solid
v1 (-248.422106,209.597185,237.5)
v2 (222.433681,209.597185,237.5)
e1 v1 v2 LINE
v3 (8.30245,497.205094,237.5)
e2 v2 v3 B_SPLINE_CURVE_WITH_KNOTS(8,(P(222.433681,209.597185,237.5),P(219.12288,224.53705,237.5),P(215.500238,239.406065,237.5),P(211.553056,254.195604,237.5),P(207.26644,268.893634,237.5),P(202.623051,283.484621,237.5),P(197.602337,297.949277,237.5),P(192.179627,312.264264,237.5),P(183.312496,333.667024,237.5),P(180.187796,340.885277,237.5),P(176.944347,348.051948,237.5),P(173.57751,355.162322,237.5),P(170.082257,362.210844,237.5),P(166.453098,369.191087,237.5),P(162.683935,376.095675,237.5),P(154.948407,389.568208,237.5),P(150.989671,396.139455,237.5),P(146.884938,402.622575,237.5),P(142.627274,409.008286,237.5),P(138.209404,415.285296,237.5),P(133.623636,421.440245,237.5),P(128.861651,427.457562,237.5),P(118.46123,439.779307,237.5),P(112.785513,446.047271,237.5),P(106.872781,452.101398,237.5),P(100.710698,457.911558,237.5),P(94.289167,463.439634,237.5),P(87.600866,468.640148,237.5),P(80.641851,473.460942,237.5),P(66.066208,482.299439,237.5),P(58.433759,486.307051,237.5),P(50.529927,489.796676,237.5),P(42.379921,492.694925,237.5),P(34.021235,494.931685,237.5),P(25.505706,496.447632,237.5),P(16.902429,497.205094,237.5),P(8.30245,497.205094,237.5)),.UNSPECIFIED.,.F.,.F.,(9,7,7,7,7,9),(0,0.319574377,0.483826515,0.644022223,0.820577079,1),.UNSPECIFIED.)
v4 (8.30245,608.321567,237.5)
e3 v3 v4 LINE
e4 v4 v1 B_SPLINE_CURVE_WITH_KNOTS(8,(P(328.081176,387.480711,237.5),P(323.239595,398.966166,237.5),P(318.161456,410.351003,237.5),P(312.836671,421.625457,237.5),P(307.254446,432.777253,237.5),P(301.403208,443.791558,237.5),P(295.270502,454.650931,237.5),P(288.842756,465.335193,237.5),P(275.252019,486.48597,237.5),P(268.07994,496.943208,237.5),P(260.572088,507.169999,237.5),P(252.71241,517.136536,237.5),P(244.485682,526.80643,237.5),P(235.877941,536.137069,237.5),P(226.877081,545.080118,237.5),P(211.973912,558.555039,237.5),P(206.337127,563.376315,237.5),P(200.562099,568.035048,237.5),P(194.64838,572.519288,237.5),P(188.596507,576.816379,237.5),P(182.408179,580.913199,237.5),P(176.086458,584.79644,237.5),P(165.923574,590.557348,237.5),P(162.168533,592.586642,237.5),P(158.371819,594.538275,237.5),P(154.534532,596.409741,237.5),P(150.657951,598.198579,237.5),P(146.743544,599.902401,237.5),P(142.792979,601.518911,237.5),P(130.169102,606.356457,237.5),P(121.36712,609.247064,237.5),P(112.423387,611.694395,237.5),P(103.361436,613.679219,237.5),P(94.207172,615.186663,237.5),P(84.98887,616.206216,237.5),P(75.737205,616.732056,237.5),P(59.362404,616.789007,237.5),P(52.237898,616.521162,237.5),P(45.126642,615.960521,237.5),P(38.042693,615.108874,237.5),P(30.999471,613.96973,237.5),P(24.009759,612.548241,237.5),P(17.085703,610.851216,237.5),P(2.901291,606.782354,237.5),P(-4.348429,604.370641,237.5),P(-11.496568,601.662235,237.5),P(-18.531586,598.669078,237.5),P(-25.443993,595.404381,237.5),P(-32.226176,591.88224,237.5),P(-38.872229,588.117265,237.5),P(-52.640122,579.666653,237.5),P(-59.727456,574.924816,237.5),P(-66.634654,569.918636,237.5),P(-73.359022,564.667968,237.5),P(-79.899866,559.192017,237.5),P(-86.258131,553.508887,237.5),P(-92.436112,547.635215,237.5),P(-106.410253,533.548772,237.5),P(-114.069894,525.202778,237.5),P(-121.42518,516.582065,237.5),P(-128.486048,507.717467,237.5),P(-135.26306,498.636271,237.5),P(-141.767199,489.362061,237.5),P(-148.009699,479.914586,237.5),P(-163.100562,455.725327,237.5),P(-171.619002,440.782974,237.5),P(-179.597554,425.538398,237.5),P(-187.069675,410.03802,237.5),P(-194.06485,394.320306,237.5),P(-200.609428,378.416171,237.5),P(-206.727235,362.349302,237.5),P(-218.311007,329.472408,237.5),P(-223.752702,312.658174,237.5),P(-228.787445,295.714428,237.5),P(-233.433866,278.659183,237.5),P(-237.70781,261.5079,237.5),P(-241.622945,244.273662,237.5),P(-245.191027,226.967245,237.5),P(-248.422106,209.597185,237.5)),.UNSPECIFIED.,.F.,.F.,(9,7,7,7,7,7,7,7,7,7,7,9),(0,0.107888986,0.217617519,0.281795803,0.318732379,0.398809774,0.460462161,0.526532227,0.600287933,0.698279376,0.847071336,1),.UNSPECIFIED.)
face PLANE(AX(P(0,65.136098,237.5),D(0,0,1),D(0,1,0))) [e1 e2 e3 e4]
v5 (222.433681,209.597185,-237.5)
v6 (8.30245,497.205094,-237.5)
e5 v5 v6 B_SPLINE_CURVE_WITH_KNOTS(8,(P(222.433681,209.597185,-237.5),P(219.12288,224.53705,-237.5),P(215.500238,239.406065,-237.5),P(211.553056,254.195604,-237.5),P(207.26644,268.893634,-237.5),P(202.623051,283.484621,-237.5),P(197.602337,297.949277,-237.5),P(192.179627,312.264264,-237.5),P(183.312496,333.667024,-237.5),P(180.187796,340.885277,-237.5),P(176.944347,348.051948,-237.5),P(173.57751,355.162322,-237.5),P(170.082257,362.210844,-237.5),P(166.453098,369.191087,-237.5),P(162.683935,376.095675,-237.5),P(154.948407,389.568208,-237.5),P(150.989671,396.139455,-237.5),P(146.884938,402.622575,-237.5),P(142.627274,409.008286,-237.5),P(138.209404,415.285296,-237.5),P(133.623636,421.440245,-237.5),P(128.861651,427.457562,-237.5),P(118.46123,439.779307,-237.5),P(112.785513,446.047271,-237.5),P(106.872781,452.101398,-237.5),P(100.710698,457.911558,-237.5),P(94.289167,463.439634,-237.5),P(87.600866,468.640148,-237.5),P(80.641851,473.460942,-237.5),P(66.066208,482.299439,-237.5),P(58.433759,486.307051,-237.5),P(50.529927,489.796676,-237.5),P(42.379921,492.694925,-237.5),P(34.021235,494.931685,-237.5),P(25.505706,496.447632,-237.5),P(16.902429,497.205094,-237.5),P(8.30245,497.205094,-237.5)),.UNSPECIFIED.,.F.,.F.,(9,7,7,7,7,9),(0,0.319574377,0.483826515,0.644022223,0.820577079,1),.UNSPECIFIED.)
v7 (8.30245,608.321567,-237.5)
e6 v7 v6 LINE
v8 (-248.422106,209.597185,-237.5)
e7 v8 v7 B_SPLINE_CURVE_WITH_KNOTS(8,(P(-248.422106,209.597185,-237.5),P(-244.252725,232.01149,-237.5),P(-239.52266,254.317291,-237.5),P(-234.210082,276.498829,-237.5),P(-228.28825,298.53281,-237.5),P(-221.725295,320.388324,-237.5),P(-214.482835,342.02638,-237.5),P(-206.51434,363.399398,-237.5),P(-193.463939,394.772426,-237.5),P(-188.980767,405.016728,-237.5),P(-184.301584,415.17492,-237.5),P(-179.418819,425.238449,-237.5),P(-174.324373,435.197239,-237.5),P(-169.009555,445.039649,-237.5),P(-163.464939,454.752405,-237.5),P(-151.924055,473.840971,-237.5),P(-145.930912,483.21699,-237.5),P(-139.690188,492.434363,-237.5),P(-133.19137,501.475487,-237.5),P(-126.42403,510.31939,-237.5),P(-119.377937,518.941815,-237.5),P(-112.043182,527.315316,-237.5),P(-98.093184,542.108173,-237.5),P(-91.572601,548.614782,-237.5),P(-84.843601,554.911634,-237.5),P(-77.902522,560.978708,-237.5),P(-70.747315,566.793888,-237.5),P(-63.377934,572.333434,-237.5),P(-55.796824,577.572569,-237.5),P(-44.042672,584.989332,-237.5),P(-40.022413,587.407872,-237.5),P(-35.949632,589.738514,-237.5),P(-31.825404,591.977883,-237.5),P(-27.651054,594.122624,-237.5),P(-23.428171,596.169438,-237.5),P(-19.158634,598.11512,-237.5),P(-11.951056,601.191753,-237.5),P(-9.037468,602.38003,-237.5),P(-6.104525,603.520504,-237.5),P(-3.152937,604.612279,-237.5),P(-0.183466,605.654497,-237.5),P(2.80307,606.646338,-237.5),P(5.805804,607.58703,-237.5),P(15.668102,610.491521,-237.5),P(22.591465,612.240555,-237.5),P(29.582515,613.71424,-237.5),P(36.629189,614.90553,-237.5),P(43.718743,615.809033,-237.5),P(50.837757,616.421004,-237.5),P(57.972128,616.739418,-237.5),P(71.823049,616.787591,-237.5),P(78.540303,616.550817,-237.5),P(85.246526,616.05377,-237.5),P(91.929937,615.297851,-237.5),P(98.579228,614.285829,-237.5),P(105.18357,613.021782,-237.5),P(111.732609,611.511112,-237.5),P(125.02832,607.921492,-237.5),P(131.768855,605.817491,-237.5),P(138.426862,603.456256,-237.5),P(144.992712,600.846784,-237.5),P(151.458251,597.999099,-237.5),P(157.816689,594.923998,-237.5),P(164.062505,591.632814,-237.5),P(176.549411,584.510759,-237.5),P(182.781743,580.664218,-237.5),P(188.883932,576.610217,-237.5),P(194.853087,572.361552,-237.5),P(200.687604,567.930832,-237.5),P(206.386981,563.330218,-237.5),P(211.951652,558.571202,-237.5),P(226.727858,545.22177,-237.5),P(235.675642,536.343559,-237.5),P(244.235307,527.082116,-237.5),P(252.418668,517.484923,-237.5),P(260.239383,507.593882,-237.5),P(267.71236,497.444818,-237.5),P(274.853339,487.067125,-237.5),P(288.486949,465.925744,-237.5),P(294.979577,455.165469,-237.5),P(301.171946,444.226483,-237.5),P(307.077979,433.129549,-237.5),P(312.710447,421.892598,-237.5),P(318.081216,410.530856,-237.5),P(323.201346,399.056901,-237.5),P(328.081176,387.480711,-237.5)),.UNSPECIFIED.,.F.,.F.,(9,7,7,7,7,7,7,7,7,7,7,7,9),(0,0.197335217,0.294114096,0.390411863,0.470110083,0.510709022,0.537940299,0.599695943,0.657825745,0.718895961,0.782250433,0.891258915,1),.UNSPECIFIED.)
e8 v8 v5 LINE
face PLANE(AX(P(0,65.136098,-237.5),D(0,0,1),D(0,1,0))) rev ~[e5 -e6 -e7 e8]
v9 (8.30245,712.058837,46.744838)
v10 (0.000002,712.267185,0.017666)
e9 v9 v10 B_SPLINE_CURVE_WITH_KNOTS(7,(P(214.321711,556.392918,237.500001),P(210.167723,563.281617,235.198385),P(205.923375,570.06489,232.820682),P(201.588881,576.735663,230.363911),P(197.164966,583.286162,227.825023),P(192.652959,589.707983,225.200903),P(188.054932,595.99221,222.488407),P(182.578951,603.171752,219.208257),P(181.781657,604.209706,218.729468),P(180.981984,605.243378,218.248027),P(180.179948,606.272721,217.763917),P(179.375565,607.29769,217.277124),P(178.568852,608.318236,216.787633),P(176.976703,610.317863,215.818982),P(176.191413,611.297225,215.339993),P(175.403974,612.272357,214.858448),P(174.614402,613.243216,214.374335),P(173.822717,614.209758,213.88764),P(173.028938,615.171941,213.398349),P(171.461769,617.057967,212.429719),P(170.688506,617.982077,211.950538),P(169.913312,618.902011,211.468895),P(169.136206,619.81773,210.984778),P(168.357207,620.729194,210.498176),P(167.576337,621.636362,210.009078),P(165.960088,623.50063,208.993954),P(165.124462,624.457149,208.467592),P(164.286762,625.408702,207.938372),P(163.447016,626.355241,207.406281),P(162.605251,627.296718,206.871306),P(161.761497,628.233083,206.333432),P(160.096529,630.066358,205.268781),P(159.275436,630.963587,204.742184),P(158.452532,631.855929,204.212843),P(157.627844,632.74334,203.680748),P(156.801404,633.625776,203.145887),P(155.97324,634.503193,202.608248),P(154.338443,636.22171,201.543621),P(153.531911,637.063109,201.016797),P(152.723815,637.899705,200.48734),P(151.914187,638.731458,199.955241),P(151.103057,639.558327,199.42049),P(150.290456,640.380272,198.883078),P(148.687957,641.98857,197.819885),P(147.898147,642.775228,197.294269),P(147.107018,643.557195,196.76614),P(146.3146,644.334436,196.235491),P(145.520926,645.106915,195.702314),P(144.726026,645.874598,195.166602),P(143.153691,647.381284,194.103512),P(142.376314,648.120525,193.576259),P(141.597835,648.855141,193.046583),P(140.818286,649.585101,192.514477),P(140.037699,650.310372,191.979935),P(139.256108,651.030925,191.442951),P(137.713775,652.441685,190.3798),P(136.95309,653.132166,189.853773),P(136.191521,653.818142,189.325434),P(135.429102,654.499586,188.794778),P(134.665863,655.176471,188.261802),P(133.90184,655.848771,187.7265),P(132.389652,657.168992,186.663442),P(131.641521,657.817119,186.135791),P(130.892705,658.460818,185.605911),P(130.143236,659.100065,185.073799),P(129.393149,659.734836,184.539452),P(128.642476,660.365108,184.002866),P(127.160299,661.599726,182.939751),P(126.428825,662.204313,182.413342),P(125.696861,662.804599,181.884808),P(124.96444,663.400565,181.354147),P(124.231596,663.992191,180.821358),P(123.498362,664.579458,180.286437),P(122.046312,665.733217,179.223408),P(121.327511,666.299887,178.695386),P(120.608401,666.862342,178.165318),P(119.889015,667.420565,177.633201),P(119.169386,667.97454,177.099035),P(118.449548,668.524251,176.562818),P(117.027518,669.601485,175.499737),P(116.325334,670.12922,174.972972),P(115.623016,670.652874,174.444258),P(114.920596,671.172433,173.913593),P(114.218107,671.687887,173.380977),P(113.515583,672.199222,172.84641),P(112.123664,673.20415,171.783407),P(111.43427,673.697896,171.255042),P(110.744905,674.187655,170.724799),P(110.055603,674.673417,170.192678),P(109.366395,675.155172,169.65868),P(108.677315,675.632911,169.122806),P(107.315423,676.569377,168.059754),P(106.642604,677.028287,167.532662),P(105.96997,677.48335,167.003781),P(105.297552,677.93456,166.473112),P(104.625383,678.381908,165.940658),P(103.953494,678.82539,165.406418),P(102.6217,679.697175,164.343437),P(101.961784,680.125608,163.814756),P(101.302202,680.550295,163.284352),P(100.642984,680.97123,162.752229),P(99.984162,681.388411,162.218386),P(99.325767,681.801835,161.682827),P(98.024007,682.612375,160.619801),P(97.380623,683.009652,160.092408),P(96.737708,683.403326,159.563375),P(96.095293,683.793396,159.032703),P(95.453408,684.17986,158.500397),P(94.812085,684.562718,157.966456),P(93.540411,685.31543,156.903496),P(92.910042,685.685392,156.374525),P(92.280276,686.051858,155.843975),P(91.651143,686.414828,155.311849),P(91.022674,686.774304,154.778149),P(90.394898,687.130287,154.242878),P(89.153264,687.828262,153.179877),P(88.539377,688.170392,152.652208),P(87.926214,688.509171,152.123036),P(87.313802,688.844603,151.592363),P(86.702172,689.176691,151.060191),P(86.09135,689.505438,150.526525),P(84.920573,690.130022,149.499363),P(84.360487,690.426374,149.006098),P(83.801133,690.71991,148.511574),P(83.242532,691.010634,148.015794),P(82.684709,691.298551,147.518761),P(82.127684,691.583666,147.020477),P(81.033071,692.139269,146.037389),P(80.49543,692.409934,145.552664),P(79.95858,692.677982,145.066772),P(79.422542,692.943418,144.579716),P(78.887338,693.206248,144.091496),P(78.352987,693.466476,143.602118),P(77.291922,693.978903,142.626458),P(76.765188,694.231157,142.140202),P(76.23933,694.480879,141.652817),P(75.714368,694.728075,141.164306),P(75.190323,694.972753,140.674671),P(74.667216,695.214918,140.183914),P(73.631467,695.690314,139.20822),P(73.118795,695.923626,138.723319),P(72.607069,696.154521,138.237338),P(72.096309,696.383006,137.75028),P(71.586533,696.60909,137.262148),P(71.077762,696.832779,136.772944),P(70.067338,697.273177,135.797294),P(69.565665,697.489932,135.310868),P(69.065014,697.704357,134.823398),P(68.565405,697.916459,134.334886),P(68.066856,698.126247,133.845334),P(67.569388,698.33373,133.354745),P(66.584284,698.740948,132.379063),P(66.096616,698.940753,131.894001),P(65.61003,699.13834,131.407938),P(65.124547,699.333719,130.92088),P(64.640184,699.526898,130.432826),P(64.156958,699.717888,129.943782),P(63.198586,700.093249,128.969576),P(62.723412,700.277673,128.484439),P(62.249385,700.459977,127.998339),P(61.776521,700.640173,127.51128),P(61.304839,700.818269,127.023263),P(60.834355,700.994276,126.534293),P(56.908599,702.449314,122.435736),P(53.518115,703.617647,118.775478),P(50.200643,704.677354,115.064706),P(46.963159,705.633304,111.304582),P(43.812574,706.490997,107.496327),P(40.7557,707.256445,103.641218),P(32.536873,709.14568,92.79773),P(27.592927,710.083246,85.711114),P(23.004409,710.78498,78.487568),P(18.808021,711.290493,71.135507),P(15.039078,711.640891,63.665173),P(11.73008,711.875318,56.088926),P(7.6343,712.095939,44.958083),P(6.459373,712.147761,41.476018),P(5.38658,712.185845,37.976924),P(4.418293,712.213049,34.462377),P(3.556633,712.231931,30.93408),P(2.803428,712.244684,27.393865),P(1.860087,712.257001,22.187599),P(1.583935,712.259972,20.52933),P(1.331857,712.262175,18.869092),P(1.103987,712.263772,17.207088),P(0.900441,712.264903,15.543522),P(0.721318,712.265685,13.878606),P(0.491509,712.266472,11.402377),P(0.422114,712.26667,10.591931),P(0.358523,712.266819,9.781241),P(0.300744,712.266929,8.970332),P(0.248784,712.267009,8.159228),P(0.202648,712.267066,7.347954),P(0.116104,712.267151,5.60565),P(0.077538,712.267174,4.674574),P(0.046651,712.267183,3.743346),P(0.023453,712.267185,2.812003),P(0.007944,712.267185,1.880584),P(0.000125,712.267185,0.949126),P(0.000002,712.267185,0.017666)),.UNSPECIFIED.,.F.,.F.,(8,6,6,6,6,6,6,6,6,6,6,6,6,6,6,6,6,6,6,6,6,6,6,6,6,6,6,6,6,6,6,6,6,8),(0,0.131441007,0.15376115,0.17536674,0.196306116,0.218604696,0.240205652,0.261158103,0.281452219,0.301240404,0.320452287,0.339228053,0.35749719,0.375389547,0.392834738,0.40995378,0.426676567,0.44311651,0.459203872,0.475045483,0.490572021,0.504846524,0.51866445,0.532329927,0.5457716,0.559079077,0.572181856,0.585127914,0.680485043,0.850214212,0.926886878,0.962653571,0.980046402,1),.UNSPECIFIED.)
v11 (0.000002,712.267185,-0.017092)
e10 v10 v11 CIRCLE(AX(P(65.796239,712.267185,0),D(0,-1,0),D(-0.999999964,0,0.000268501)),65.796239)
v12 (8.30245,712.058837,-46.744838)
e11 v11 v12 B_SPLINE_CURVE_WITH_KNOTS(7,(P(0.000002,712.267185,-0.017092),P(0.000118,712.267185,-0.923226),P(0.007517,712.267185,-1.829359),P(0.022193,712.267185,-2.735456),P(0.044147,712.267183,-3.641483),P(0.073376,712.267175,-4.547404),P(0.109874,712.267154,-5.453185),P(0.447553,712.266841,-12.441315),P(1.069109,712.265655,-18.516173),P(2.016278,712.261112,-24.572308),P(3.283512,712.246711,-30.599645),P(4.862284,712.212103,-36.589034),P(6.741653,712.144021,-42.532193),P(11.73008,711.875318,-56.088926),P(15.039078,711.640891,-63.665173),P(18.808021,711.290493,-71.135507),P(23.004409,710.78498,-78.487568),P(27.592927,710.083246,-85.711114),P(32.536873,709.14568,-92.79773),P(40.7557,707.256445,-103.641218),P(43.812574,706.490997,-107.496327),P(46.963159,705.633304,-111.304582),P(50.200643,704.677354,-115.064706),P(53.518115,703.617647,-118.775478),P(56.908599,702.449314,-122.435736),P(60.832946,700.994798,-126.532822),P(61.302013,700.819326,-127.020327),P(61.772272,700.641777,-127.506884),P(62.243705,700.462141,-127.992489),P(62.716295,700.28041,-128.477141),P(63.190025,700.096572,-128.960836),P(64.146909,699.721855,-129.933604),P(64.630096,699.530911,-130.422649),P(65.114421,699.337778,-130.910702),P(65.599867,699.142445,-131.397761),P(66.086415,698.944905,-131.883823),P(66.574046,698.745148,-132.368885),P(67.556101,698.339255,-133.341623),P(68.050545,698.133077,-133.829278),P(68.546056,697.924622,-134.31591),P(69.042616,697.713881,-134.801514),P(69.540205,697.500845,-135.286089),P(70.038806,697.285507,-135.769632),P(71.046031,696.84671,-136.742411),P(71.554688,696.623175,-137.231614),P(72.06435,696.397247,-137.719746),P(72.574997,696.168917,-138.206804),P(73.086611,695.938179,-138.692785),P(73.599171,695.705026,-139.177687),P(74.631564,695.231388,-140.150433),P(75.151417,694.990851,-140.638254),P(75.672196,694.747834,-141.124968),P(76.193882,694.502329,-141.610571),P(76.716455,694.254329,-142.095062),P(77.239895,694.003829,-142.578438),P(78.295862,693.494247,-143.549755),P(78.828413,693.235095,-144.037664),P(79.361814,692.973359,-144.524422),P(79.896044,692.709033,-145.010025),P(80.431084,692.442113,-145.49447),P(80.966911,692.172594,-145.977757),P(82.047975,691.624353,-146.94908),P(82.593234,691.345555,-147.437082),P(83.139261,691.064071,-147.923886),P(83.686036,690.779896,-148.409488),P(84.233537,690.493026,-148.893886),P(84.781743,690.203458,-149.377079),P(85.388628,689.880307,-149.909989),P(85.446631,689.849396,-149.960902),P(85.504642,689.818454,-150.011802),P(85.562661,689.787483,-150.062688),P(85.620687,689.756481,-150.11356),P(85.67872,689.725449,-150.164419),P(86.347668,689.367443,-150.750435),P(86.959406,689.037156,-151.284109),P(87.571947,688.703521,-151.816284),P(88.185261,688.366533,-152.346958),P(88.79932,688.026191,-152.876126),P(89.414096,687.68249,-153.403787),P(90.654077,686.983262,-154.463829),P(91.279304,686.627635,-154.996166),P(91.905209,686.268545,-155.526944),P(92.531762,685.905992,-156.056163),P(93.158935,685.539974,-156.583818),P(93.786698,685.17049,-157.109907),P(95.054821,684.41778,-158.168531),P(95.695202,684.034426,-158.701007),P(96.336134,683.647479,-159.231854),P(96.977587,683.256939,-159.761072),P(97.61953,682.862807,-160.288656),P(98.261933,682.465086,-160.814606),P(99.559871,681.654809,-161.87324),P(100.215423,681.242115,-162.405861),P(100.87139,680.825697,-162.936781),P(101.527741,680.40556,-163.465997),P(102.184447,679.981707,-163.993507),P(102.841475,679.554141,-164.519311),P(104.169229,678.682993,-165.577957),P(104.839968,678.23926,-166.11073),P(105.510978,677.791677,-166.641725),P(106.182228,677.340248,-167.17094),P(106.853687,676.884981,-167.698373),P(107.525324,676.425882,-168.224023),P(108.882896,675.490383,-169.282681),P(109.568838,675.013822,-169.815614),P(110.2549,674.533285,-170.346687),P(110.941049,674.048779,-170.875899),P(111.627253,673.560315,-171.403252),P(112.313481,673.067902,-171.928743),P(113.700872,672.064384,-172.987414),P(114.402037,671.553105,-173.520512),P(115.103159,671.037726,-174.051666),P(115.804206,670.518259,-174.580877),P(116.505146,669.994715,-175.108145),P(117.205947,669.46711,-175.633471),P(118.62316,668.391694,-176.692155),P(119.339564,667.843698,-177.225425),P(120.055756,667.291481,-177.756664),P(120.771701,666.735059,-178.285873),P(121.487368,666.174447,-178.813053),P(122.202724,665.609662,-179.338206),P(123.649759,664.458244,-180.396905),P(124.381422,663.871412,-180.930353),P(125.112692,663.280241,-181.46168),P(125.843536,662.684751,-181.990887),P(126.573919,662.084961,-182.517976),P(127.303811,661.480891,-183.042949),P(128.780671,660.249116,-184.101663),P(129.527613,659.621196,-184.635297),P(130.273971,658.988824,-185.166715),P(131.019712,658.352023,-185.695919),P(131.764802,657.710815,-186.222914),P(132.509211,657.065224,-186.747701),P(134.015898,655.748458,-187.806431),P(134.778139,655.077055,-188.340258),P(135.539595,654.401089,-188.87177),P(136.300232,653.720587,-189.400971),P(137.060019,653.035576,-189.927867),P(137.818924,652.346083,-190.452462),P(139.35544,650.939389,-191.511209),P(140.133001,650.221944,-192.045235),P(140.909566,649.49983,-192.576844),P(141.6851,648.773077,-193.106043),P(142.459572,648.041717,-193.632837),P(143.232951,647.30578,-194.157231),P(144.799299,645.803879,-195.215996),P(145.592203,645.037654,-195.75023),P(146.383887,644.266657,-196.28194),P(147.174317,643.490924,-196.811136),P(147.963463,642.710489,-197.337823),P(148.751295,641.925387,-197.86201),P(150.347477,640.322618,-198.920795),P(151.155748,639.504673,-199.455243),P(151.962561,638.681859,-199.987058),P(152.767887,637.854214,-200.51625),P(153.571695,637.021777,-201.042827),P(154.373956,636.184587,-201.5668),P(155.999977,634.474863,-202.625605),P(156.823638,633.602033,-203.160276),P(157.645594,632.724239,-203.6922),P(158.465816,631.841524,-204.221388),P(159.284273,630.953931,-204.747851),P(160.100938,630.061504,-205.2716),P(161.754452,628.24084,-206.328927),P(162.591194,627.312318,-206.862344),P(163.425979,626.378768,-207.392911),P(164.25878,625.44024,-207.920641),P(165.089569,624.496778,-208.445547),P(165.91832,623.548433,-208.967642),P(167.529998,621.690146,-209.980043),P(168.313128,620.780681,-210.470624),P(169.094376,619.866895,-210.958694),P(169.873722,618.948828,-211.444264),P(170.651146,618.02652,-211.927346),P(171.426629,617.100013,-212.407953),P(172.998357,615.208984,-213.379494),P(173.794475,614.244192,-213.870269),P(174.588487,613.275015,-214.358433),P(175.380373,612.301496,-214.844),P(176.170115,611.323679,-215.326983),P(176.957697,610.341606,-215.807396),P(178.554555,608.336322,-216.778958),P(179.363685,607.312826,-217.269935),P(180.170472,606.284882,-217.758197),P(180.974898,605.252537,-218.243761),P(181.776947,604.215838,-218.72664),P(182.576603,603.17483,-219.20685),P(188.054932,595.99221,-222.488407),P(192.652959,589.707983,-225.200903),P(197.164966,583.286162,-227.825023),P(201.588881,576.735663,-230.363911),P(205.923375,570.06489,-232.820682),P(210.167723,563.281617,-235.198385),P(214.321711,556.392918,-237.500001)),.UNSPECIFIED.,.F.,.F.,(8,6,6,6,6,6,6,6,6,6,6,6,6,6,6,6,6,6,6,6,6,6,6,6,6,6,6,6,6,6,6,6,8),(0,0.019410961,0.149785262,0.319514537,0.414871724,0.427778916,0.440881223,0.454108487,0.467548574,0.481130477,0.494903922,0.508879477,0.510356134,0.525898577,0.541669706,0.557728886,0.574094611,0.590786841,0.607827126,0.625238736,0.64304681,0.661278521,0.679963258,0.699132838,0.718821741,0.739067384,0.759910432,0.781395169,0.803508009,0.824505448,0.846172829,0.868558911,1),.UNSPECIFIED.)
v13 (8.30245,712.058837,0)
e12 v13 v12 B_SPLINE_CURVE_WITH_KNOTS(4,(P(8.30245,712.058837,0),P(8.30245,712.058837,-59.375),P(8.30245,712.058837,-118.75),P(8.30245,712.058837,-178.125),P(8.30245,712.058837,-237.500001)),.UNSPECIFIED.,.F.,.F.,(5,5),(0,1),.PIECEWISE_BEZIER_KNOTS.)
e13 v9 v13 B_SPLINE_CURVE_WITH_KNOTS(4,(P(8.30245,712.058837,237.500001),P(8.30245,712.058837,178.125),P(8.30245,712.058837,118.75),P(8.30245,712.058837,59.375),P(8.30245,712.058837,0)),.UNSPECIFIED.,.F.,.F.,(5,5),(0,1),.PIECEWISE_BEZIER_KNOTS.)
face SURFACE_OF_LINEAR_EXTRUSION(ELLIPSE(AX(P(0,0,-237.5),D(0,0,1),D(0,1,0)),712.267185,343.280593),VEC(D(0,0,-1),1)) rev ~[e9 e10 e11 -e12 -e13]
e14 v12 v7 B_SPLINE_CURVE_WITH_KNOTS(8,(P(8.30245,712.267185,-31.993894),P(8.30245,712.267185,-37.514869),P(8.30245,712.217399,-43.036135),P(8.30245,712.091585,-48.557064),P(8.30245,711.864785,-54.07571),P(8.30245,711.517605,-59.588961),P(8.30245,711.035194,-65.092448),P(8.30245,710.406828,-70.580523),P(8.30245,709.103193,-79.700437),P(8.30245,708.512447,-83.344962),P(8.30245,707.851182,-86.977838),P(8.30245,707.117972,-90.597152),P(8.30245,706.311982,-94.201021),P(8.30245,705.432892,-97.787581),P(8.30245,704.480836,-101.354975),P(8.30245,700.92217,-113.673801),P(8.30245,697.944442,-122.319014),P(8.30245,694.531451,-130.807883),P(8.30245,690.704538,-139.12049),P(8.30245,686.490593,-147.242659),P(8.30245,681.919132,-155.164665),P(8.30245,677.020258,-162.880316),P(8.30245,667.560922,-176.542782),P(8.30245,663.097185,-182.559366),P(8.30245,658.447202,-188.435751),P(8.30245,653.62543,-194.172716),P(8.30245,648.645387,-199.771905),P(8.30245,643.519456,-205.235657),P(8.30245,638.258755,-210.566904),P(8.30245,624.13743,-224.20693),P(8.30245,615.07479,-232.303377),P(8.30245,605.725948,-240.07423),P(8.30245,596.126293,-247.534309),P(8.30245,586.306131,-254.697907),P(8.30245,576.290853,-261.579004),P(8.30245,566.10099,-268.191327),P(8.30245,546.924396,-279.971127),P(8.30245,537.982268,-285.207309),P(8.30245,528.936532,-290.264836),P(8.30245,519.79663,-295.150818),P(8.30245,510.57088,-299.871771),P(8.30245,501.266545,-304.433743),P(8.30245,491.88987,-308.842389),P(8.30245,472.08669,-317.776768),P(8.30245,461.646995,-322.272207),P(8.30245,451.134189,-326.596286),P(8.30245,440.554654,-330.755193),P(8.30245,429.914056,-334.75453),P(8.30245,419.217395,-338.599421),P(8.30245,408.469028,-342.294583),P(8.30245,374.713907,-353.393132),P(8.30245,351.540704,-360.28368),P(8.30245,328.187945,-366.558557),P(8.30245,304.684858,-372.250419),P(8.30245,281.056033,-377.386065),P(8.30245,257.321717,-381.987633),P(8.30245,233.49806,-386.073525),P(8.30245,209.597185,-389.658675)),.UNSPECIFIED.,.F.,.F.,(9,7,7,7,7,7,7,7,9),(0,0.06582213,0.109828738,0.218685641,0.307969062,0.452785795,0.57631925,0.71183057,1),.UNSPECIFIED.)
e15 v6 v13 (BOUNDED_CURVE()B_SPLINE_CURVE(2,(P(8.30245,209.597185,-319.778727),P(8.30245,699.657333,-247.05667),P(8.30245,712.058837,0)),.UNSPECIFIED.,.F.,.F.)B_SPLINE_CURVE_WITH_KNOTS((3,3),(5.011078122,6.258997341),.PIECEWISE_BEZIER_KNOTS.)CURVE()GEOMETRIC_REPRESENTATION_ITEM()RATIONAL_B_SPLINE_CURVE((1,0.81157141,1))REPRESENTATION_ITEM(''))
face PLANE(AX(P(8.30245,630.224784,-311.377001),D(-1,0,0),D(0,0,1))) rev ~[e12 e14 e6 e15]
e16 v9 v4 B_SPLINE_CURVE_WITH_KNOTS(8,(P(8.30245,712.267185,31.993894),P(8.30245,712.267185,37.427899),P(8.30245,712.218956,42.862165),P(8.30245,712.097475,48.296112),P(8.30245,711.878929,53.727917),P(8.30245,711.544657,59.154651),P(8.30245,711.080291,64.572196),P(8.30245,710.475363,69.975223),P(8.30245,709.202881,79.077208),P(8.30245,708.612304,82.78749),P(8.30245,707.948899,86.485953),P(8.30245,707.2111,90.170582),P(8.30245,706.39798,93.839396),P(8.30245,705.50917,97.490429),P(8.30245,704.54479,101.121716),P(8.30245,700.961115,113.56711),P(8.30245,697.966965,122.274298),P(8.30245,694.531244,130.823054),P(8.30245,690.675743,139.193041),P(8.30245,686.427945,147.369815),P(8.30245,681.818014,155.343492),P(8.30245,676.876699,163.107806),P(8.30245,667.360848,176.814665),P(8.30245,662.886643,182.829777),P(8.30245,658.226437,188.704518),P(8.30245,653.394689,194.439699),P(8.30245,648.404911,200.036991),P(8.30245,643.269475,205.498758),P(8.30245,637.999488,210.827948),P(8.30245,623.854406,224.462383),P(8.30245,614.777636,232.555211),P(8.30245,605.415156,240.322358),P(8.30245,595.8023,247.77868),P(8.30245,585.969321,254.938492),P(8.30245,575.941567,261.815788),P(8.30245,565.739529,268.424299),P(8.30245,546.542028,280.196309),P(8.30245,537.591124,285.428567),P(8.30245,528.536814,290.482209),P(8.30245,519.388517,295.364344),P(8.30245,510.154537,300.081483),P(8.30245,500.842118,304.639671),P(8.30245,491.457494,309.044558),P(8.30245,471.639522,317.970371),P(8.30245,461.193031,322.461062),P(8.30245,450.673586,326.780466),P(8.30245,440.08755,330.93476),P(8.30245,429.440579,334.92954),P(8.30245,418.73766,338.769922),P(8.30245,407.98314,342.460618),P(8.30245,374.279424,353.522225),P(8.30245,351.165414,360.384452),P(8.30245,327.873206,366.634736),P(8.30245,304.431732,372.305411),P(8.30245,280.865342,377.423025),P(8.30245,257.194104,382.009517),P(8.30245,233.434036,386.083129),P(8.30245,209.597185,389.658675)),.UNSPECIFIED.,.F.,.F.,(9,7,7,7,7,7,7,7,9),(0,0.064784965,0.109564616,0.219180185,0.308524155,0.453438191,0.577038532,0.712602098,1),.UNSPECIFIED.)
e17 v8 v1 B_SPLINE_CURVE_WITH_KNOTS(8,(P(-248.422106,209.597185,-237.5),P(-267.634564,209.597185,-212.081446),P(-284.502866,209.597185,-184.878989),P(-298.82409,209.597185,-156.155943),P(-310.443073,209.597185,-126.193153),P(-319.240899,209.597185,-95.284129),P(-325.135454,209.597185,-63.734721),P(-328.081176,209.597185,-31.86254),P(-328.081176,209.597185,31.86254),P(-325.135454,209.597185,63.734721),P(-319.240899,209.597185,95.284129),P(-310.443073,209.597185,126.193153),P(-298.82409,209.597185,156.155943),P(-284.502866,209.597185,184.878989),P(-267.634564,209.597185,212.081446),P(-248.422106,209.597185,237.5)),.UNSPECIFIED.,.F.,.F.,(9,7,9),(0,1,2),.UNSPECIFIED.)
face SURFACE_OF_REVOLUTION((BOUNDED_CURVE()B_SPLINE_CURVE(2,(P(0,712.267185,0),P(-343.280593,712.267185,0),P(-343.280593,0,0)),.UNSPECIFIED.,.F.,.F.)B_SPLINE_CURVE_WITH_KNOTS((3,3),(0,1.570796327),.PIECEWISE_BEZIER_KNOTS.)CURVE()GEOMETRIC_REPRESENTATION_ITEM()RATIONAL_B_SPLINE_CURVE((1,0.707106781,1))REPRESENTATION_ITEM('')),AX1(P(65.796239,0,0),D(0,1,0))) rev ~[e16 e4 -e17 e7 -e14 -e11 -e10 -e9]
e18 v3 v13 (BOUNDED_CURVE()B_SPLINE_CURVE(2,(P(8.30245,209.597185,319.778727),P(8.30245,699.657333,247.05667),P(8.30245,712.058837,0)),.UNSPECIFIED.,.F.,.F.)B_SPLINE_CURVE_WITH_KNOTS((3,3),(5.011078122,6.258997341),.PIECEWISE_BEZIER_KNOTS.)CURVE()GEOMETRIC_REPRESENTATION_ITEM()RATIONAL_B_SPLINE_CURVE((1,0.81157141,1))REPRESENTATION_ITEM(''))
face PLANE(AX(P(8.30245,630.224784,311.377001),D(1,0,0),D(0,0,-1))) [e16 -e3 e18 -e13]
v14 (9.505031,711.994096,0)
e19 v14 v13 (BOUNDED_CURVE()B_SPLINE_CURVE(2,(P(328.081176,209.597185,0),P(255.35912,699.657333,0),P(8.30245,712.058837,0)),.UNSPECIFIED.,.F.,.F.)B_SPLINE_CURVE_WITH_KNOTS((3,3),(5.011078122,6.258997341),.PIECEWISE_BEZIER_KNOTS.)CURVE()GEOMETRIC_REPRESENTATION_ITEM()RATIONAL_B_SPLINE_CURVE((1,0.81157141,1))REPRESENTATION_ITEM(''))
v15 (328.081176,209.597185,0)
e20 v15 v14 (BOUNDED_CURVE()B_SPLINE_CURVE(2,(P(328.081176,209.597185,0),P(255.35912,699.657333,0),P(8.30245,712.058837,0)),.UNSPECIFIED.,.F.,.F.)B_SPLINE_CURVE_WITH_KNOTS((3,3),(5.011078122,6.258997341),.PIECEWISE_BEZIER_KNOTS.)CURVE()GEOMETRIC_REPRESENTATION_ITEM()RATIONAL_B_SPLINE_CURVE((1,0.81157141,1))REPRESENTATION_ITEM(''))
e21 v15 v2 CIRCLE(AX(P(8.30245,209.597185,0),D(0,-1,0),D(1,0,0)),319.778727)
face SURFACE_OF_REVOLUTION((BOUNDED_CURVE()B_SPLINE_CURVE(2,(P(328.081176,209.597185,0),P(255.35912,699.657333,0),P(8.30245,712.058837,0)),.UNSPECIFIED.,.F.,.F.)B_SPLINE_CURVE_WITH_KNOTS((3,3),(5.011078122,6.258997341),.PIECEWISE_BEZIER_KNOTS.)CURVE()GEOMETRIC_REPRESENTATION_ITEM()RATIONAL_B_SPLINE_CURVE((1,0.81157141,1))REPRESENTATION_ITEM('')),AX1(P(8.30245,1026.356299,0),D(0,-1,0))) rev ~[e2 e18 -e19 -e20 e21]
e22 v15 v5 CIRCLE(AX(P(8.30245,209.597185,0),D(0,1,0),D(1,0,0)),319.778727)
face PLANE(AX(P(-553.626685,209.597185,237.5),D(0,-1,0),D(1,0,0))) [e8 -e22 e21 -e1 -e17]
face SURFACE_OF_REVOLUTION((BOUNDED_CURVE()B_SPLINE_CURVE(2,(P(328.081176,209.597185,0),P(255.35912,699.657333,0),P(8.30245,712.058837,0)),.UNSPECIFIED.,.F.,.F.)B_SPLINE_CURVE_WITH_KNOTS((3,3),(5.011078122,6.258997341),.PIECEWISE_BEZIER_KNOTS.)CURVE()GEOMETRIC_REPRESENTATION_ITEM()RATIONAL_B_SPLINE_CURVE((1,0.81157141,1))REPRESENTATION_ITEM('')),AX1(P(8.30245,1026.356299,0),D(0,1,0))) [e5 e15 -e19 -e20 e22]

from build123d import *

# Parameters (mm, degrees)
BOSS_EXTRUDE1_DEPTH          = 237.5
BOSS_EXTRUDE1_DEPTH_BACK     = 237.5
SKETCH1_RX                   = 712.26718515
SKETCH1_RY                   = 343.28059296
SKETCH7_W                    = 1048.477934303
SKETCH7_H                    = 944.198935412
CUT_EXTRUDE2_DEPTH           = 923.383384794
CUT_REVOLVE4_ANGLE           = 90
CUT_REVOLVE4_OTHER_WAY_ANGLE = 90


with BuildPart() as part:
    # Sketch1 → Boss-Extrude1 (new, two sides: drawn at the far end of the back side and taken through both)
    with BuildSketch(Plane.XY.offset(-BOSS_EXTRUDE1_DEPTH_BACK)):
        with Locations(Location((0, 0), (0, 0, 90))):
            Ellipse(SKETCH1_RX, SKETCH1_RY)
    extrude(amount=BOSS_EXTRUDE1_DEPTH + BOSS_EXTRUDE1_DEPTH_BACK)

    # Sketch7 → Cut-Extrude2 (cut, through all)
    with BuildSketch(Plane.XY.offset(237.5)):
        with Locations((-29.38771787, -262.502282556)):
            Rectangle(SKETCH7_W, SKETCH7_H)
    extrude(amount=-CUT_EXTRUDE2_DEPTH, mode=Mode.SUBTRACT)

    # Sketch11 → Cut-Revolve2 (revolve, cut)
    with BuildSketch(Plane.XY):
        with BuildLine():
            Line((-343.28059296, 0), (-743.226651757, 0))
            Line((-743.226651757, 0), (-743.226651757, 860.341056905))
            Line((-743.226651757, 860.341056905), (0, 860.341056905))
            Line((0, 860.341056905), (0, 712.26718515))
            add(Edge.make_bspline(
                [(0, 712.26718515), (-343.28059296, 712.26718515), (-343.28059296, 0)],
                knots=[0, 0, 0, 1.570796327, 1.570796327, 1.570796327], degree=2, weights=[1, 0.707106781, 1]))
        make_face()
    revolve(axis=Axis((65.79623911, 0, 0), (0, 1, 0)), mode=Mode.SUBTRACT)

    # Sketch15 → Cut-Revolve4 (revolve, cut)
    with BuildSketch(Plane.XY):
        with BuildLine():
            Line((8.302449854, 946.581815565), (524.826005951, 946.581815565))
            Line((524.826005951, 946.581815565), (524.826005951, 209.59718515))
            Line((524.826005951, 209.59718515), (328.081176474, 209.597185149))
            add(Edge.make_bspline(
                [(328.081176474, 209.597185149), (255.359120318, 699.657333261), (8.302449854, 712.0588366)],
                knots=[5.011078122, 5.011078122, 5.011078122, 6.258997341, 6.258997341, 6.258997341], degree=2, weights=[1, 0.81157141, 1]))
            Line((8.302449854, 712.0588366), (8.302449854, 946.581815565))
        make_face()
    revolve(axis=Axis((8.302449854, 1026.356298718, 0), (0, 1, 0)), revolution_arc=CUT_REVOLVE4_ANGLE, mode=Mode.SUBTRACT)

    # Sketch15 → Cut-Revolve4 other way (revolve, cut)
    with BuildSketch(Plane.XY):
        with BuildLine():
            Line((8.302449854, 946.581815565), (524.826005951, 946.581815565))
            Line((524.826005951, 946.581815565), (524.826005951, 209.59718515))
            Line((524.826005951, 209.59718515), (328.081176474, 209.597185149))
            add(Edge.make_bspline(
                [(328.081176474, 209.597185149), (255.359120318, 699.657333261), (8.302449854, 712.0588366)],
                knots=[5.011078122, 5.011078122, 5.011078122, 6.258997341, 6.258997341, 6.258997341], degree=2, weights=[1, 0.81157141, 1]))
            Line((8.302449854, 712.0588366), (8.302449854, 946.581815565))
        make_face()
    revolve(axis=Axis((8.302449854, 1026.356298718, 0), (0, -1, 0)), revolution_arc=CUT_REVOLVE4_OTHER_WAY_ANGLE, mode=Mode.SUBTRACT)


solid = part.part
